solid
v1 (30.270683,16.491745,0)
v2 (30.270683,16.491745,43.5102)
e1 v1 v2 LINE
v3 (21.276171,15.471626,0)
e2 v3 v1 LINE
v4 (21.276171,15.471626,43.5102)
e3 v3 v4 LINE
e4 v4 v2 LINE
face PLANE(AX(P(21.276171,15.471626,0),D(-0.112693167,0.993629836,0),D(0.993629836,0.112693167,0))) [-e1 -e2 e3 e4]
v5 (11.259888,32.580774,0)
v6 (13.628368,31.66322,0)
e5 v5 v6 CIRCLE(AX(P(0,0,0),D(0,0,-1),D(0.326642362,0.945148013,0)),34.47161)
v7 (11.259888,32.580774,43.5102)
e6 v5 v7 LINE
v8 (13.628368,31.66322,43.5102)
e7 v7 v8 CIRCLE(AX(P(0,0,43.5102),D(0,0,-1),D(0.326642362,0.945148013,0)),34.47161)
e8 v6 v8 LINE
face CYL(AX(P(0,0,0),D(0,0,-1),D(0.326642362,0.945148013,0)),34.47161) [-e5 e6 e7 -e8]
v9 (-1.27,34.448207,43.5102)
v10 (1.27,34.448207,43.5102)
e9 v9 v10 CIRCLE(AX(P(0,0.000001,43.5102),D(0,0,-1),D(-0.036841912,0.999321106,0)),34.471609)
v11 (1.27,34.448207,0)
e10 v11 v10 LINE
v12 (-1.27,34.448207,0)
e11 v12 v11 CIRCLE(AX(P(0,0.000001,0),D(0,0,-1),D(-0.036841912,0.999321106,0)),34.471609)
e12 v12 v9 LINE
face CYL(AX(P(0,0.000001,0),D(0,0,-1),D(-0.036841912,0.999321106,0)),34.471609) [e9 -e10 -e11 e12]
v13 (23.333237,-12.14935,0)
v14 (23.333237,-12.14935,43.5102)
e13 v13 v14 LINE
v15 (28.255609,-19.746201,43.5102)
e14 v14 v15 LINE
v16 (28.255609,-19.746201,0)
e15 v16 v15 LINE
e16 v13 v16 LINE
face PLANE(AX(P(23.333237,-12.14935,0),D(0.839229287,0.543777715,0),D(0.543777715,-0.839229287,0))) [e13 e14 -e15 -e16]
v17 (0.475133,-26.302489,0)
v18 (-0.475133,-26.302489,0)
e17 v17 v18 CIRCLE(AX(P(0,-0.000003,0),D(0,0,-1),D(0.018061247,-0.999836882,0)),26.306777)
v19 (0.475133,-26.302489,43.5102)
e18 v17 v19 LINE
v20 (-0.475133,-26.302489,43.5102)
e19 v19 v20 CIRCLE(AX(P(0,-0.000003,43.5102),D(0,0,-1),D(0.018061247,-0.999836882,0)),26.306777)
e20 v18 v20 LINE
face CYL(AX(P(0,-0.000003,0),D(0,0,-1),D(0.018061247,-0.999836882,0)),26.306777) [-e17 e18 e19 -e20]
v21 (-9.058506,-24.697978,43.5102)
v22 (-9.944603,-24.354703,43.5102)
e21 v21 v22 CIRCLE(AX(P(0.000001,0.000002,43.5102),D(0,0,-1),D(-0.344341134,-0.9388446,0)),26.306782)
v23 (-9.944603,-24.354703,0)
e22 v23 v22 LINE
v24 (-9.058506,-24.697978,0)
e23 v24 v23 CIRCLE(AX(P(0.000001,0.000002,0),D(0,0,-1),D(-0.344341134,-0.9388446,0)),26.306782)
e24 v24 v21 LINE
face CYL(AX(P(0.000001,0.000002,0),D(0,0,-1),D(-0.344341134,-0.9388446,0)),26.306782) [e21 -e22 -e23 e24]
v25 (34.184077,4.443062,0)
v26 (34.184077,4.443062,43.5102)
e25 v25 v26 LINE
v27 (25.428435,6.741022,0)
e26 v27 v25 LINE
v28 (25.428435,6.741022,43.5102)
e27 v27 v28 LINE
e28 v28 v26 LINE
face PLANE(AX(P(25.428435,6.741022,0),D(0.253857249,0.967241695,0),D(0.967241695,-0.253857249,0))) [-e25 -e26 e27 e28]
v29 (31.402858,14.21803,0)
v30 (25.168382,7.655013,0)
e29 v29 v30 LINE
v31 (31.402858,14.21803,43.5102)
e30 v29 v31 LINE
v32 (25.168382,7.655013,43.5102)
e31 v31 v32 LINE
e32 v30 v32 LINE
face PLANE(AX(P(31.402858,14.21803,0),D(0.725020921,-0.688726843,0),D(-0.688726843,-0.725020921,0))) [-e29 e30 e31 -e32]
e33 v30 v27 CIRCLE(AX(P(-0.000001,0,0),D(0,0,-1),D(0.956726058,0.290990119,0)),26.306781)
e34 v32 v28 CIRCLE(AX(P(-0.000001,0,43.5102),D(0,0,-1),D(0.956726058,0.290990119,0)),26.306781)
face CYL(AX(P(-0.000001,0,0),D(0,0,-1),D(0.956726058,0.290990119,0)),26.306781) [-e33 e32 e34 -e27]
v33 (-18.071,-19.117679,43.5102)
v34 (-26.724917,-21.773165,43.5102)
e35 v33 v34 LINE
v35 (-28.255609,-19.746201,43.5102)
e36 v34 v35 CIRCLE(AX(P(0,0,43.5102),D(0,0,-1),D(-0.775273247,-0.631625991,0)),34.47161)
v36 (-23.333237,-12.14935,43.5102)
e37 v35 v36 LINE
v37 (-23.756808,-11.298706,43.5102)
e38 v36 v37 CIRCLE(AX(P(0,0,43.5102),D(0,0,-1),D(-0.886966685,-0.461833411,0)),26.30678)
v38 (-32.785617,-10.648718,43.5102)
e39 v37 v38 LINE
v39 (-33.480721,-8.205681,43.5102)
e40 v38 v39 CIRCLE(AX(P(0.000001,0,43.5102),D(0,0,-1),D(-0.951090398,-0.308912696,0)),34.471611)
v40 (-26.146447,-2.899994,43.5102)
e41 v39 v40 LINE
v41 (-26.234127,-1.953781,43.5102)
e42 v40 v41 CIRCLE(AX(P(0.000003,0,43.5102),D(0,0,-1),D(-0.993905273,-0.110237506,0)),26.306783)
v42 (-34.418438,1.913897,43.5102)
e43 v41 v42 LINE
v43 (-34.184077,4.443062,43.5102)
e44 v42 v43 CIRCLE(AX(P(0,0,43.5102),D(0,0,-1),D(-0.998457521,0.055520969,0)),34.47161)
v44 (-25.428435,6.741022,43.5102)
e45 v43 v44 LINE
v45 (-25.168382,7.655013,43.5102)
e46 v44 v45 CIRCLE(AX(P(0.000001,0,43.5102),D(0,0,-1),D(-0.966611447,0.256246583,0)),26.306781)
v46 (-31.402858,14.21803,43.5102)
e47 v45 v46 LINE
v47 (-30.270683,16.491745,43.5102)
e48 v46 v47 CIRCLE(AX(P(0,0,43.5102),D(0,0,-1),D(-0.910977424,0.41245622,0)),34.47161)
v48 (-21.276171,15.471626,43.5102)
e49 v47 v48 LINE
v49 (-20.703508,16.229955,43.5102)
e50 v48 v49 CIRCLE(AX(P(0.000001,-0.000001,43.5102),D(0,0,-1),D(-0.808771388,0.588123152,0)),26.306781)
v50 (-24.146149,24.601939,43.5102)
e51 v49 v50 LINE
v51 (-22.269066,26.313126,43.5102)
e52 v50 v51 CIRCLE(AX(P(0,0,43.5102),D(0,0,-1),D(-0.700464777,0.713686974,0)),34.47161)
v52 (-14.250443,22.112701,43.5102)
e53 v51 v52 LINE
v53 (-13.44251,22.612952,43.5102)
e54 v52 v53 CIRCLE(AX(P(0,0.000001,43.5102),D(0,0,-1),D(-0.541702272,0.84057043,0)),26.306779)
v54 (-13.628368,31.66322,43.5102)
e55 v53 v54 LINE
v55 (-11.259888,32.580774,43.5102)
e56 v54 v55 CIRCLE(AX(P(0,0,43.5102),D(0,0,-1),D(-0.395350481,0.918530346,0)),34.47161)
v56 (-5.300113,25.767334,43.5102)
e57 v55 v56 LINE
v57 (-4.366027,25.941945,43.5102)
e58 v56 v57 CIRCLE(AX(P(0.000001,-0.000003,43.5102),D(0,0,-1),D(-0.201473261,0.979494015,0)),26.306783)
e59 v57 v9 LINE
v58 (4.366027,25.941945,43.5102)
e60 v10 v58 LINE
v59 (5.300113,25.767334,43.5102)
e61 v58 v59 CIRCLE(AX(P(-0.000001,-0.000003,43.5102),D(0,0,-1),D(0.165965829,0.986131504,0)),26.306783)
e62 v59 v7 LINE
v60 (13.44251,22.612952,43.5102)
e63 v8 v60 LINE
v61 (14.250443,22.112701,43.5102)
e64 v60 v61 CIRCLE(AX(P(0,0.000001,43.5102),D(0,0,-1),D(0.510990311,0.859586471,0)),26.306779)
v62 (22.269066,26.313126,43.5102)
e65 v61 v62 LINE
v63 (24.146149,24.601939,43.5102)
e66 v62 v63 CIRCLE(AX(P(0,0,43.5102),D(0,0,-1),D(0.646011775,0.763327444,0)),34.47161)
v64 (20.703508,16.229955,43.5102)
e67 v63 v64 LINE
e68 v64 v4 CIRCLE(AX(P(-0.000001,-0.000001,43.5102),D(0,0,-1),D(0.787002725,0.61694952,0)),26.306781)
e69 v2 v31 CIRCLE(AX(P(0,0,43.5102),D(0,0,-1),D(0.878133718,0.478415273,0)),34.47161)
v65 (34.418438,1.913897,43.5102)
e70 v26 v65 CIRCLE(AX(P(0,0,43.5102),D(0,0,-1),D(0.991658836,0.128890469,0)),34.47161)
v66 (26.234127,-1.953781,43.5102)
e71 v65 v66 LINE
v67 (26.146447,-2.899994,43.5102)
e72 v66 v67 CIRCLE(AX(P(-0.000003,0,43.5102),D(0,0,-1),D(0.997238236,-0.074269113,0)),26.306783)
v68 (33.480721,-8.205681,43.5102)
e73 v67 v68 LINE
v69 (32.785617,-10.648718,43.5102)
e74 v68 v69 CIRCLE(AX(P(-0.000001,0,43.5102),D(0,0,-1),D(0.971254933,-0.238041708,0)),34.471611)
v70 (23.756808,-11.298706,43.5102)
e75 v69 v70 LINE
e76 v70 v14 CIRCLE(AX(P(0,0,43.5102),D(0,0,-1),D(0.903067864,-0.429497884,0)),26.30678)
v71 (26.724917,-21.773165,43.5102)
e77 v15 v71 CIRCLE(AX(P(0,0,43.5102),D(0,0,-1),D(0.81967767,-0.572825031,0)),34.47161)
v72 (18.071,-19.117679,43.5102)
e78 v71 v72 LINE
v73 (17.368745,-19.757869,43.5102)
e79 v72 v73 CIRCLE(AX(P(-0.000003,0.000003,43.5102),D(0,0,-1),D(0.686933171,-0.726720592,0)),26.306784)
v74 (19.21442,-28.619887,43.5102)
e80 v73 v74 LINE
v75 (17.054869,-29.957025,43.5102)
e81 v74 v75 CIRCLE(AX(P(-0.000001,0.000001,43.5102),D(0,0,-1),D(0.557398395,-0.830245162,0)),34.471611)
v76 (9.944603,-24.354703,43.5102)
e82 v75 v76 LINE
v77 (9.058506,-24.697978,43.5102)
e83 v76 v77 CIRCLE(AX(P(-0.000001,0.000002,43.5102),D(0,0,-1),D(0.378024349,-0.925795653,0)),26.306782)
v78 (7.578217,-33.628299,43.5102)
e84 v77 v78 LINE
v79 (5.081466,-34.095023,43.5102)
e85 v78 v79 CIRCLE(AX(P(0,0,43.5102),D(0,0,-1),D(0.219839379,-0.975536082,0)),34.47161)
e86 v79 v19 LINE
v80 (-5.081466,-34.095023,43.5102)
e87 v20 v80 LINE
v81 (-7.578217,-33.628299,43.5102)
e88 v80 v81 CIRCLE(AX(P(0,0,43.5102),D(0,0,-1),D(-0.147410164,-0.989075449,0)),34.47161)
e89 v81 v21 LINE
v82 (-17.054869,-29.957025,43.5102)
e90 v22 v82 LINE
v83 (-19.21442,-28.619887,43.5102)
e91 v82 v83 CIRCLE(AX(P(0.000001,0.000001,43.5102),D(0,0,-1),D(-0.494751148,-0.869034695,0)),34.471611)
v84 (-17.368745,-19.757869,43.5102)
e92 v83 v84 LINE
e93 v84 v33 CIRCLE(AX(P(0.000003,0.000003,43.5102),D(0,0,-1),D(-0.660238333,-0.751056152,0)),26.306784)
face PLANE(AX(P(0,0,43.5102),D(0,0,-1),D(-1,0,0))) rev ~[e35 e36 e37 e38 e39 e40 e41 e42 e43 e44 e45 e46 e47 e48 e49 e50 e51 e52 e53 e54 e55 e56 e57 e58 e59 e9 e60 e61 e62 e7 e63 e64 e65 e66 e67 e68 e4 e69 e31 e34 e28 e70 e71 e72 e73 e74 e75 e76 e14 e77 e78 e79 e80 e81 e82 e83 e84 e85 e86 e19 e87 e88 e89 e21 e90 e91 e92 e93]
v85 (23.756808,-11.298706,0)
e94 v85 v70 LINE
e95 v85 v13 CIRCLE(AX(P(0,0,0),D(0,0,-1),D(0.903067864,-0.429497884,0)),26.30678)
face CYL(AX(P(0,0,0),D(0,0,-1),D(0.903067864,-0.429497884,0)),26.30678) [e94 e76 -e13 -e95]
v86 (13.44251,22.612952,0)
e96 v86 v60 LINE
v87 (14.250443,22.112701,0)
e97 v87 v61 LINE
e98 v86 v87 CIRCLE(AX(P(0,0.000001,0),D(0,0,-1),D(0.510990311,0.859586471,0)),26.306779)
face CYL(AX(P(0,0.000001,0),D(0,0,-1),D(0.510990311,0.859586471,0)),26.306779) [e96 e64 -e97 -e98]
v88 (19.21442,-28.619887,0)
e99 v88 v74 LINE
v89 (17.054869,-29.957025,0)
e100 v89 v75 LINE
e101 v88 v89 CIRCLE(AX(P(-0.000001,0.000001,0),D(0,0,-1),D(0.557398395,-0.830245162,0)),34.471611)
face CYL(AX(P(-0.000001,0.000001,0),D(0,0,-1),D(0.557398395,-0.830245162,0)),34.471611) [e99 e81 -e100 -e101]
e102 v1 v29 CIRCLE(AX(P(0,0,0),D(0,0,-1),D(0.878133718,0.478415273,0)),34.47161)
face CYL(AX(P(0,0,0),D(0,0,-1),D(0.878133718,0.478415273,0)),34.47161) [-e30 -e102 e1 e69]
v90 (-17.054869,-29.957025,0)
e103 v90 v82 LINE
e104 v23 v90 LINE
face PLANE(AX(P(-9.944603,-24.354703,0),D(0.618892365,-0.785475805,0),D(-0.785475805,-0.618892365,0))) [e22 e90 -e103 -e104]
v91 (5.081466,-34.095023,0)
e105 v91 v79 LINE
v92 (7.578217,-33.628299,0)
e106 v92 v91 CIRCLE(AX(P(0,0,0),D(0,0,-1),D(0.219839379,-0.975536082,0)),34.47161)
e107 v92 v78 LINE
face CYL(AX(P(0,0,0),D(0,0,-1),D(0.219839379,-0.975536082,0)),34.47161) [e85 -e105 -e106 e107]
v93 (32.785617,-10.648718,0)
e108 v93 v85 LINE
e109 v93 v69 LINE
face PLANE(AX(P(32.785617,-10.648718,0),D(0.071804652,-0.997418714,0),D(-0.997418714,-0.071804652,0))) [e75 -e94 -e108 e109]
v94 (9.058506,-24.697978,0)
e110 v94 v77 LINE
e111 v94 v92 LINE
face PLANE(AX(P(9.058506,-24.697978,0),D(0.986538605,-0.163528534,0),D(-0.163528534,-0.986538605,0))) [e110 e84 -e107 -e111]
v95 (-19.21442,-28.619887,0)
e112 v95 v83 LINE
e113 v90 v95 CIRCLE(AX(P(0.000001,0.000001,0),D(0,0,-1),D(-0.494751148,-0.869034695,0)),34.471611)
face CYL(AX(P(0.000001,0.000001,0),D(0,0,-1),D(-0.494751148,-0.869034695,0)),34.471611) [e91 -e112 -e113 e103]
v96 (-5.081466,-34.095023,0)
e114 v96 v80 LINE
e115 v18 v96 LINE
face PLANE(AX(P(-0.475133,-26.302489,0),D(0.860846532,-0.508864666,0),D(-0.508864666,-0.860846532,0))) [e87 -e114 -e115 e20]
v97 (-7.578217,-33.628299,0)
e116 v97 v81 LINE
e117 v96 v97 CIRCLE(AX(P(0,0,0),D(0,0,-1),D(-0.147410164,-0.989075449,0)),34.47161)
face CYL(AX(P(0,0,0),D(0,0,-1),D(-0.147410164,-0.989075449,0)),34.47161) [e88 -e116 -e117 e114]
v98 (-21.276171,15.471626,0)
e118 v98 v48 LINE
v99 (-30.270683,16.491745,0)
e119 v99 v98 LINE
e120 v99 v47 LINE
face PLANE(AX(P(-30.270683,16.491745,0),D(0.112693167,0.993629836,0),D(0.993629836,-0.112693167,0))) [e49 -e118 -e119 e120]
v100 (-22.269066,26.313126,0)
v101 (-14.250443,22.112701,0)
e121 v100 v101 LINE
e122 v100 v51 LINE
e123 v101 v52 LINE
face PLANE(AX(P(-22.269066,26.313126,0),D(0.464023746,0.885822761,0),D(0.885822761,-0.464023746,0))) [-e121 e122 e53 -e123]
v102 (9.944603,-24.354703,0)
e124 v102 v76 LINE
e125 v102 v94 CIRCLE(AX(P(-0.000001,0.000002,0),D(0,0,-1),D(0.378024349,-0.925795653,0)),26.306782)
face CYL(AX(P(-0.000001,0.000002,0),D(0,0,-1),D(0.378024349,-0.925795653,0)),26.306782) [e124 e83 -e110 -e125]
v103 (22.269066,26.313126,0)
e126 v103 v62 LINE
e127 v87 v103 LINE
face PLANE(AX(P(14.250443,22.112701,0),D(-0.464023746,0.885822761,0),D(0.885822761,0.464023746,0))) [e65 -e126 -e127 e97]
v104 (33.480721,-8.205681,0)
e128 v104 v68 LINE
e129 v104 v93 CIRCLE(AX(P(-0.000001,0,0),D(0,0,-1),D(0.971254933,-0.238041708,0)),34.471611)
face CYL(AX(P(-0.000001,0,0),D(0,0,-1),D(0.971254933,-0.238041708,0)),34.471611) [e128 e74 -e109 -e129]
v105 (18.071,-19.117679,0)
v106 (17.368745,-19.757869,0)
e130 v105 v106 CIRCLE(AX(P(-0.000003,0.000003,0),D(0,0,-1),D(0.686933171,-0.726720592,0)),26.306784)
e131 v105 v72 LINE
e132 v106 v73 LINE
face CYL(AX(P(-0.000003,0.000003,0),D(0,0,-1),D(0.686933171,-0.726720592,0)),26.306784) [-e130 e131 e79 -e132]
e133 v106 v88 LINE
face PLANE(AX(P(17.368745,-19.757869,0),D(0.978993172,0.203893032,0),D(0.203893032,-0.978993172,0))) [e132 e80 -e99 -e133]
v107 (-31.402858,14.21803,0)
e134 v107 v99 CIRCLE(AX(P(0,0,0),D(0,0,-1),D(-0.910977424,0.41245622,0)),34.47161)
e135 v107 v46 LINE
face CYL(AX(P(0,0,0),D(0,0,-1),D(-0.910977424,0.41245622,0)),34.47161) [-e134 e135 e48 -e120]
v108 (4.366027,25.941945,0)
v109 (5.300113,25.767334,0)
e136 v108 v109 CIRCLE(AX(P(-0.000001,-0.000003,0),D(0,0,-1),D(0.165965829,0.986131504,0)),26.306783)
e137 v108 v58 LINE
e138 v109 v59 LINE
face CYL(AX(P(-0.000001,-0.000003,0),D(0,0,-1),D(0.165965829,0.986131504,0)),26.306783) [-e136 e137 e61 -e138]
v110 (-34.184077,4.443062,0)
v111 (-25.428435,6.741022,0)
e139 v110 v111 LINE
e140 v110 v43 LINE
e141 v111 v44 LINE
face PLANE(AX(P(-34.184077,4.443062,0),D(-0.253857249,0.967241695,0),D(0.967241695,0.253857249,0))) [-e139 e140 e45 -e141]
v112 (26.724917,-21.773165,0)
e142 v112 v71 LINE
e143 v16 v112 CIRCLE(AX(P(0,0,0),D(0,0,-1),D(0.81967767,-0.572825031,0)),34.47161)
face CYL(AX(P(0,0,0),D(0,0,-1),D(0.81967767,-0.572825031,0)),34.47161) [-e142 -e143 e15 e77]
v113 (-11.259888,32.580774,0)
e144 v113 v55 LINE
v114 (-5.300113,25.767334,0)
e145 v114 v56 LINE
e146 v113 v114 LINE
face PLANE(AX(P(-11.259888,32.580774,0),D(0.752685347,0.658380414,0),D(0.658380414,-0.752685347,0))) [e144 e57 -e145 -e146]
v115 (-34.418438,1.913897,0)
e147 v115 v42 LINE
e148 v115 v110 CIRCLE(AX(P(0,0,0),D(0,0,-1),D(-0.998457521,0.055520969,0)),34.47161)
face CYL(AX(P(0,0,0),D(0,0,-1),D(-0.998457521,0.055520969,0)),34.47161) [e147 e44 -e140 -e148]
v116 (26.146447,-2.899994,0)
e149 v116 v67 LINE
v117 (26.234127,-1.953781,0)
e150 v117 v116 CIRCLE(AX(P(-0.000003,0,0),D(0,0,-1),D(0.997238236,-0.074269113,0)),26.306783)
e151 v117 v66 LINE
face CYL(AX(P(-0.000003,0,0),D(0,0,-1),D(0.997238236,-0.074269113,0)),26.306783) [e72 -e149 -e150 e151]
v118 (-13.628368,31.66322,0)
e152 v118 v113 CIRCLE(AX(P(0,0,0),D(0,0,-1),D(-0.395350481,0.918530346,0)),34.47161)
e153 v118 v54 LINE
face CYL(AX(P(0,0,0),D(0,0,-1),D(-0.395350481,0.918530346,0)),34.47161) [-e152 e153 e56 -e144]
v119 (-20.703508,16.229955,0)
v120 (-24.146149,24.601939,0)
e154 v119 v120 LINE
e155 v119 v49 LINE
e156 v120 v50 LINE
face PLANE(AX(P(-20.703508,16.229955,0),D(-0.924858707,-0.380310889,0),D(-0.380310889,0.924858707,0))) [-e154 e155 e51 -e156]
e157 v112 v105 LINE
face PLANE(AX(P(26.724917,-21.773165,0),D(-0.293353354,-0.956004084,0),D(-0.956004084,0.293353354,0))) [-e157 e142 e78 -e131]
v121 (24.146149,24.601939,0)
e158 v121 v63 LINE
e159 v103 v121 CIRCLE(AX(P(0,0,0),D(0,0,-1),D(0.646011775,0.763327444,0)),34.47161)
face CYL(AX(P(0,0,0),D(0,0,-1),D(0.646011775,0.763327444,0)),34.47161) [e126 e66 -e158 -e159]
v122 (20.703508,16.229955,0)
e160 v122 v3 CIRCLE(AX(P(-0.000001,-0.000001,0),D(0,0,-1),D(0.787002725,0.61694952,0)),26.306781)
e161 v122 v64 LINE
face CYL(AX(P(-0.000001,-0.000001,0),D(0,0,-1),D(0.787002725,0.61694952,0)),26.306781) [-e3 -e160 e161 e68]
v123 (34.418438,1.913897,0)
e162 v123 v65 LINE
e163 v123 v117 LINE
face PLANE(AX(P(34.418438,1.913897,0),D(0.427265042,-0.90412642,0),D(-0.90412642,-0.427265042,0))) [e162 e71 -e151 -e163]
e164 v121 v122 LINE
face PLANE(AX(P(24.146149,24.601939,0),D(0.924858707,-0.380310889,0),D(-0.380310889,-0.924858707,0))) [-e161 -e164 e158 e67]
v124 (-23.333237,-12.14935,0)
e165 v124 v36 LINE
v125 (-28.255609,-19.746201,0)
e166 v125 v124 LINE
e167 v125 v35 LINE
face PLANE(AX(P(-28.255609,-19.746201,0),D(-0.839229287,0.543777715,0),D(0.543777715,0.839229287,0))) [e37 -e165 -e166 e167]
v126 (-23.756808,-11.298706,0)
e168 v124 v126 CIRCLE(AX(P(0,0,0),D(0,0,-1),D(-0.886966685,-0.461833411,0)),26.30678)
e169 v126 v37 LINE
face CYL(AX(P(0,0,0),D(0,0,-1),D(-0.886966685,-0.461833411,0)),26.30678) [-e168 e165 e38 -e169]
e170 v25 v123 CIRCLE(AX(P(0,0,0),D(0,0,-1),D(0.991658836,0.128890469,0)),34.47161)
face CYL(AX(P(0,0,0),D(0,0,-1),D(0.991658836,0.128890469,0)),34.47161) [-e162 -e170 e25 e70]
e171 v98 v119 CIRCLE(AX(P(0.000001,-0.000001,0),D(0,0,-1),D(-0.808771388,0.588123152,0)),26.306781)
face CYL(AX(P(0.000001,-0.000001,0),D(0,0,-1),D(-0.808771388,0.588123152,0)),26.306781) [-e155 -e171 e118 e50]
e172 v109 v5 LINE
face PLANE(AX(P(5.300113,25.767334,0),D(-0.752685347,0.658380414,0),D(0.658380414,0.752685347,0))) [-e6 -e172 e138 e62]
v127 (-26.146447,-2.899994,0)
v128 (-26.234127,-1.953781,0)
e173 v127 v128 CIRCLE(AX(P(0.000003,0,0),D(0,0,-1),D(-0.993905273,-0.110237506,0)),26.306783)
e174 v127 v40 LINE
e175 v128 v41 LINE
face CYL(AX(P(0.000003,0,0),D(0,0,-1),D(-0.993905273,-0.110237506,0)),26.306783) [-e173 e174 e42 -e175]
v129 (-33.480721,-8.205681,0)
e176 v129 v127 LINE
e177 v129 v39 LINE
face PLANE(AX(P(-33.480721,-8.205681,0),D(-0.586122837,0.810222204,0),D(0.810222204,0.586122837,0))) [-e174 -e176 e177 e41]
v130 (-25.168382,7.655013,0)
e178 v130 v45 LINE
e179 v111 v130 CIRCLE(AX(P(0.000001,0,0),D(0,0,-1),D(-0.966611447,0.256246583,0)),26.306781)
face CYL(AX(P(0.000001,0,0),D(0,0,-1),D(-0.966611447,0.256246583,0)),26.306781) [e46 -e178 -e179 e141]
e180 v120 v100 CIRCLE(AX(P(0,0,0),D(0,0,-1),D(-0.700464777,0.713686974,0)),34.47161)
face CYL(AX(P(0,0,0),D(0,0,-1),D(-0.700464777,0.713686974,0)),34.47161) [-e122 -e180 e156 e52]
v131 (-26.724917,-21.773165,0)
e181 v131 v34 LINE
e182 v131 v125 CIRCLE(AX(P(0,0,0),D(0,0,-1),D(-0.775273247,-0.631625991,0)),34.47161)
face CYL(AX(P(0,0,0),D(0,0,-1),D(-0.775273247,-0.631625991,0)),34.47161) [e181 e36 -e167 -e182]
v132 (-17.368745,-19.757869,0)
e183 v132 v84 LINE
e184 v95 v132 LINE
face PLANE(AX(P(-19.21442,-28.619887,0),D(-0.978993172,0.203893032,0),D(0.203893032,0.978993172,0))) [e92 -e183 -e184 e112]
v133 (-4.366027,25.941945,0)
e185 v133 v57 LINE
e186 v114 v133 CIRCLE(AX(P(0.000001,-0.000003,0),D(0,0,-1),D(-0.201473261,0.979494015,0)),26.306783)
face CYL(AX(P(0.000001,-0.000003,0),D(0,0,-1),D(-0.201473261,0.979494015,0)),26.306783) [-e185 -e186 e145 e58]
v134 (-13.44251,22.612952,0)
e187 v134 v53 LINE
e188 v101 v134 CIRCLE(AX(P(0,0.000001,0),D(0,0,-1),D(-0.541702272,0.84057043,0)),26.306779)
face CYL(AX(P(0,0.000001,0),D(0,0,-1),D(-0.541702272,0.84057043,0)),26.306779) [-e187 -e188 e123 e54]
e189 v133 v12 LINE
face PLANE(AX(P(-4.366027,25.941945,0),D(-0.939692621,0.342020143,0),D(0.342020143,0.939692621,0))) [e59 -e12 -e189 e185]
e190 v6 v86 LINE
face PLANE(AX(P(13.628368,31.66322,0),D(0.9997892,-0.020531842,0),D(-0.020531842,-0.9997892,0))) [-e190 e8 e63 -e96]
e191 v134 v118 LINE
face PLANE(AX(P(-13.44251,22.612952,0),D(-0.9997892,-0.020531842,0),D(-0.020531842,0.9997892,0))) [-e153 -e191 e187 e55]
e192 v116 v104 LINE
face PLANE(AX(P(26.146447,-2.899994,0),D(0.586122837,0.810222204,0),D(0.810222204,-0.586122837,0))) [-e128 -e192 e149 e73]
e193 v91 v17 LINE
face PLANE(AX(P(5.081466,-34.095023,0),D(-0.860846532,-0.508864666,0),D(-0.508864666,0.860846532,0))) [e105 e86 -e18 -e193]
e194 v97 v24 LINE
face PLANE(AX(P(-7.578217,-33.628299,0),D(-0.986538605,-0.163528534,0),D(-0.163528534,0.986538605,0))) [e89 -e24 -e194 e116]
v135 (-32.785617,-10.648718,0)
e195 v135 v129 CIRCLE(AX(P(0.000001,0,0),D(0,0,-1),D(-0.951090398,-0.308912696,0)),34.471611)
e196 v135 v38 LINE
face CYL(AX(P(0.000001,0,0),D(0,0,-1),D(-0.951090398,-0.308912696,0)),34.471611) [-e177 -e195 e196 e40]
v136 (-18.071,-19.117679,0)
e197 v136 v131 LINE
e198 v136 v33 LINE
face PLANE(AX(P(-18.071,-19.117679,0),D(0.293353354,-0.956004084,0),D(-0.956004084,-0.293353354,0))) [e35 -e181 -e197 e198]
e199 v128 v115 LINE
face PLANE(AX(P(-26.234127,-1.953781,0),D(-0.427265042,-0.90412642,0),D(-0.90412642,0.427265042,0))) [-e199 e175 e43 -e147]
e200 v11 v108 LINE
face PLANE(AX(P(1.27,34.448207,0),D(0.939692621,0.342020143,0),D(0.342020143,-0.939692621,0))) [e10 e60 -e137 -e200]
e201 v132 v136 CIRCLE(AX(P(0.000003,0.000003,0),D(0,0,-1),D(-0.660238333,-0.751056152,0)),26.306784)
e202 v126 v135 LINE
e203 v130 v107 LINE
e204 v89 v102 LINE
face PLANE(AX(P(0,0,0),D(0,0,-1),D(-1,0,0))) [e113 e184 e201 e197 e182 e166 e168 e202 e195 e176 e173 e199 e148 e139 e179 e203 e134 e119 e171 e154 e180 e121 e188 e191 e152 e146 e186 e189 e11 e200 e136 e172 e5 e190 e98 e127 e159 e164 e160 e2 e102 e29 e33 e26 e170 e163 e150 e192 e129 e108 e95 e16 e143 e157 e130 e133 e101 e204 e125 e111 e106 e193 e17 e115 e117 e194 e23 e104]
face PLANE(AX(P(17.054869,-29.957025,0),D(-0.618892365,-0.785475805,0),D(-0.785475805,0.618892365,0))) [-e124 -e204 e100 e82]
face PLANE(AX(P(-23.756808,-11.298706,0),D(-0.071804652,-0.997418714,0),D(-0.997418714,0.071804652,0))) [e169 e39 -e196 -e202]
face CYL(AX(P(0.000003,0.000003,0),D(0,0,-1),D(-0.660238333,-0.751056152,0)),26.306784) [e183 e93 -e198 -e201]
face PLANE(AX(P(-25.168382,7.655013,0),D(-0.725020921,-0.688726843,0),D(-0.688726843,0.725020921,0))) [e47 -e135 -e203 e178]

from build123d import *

# Parameters (mm, degrees)
BOSS_EXTRUDE1_DEPTH = 43.5102


with BuildPart() as part:
    # Sketch2 → Boss-Extrude1 (new body)
    with BuildSketch(Plane.XY):
        with BuildLine():
            Line((-4.366026501, 25.941944541), (-1.27, 34.448207442))
            ThreePointArc((-1.27, 34.448207442), (0, 34.47161), (1.27, 34.448207442))
            Line((1.27, 34.448207442), (4.366026501, 25.941944541))
            ThreePointArc((4.366026501, 25.941944541), (4.83385814, 25.858857079), (5.300112805, 25.767333549))
            Line((5.300112805, 25.767333549), (11.259888122, 32.580773709))
            ThreePointArc((11.259888122, 32.580773709), (12.452581833, 32.143819028), (13.628367585, 31.663219877))
            Line((13.628367585, 31.663219877), (13.442509735, 22.612952173))
            ThreePointArc((13.442509735, 22.612952173), (13.848735094, 22.366475142), (14.250442508, 22.11270138))
            Line((14.250442508, 22.11270138), (22.26906596, 26.31312595))
            ThreePointArc((22.26906596, 26.31312595), (23.223373486, 25.474827181), (24.14614861, 24.601939015))
            Line((24.14614861, 24.601939015), (20.703507542, 16.229955312))
            ThreePointArc((20.703507542, 16.229955312), (20.993263634, 15.8533768), (21.276170986, 15.471626358))
            Line((21.276170986, 15.471626358), (30.270683044, 16.491744725))
            ThreePointArc((30.270683044, 16.491744725), (30.857719866, 15.365318762), (31.402858467, 14.218029965))
            Line((31.402858467, 14.218029965), (25.168381933, 7.655013053))
            ThreePointArc((25.168381933, 7.655013053), (25.302535593, 7.199192074), (25.428434676, 6.741022466))
            Line((25.428434676, 6.741022466), (34.184076646, 4.443061991))
            ThreePointArc((34.184076646, 4.443061991), (34.324560189, 3.180638903), (34.418438279, 1.913897183))
            Line((34.418438279, 1.913897183), (26.234126882, -1.953781138))
            ThreePointArc((26.234126882, -1.953781138), (26.194559914, -2.427283433), (26.14644736, -2.899993864))
            Line((26.14644736, -2.899993864), (33.480721277, -8.205680884))
            ThreePointArc((33.480721277, -8.205680884), (33.155678459, -9.433603865), (32.785617282, -10.648718018))
            Line((32.785617282, -10.648718018), (23.756807626, -11.298706359))
            ThreePointArc((23.756807626, -11.298706359), (23.54886377, -11.725940863), (23.333237446, -12.149349953))
            Line((23.333237446, -12.149349953), (28.255608976, -19.746201087))
            ThreePointArc((28.255608976, -19.746201087), (27.508938632, -20.773786158), (26.724917, -21.773164845))
            Line((26.724917, -21.773164845), (18.07099986, -19.117678678))
            ThreePointArc((18.07099986, -19.117678678), (17.722763084, -19.440945003), (17.36874452, -19.757869009))
            Line((17.36874452, -19.757869009), (19.214420114, -28.619887416))
            ThreePointArc((19.214420114, -28.619887416), (18.14696421, -29.308353518), (17.054868589, -29.95702511))
            Line((17.054868589, -29.95702511), (9.944603428, -24.354702557))
            ThreePointArc((9.944603428, -24.354702557), (9.503105039, -24.530341795), (9.058506404, -24.697978373))
            Line((9.058506404, -24.697978373), (7.578217344, -33.628299361))
            ThreePointArc((7.578217344, -33.628299361), (6.334141716, -33.884665333), (5.081465671, -34.095023136))
            Line((5.081465671, -34.095023136), (0.475133198, -26.302488901))
            ThreePointArc((0.475133198, -26.302488901), (0, -26.30678), (-0.475133198, -26.302488901))
            Line((-0.475133198, -26.302488901), (-5.081465671, -34.095023136))
            ThreePointArc((-5.081465671, -34.095023136), (-6.334141716, -33.884665333), (-7.578217344, -33.628299361))
            Line((-7.578217344, -33.628299361), (-9.058506404, -24.697978373))
            ThreePointArc((-9.058506404, -24.697978373), (-9.503105039, -24.530341795), (-9.944603428, -24.354702557))
            Line((-9.944603428, -24.354702557), (-17.054868589, -29.95702511))
            ThreePointArc((-17.054868589, -29.95702511), (-18.14696421, -29.308353518), (-19.214420114, -28.619887416))
            Line((-19.214420114, -28.619887416), (-17.36874452, -19.757869009))
            ThreePointArc((-17.36874452, -19.757869009), (-17.722763084, -19.440945003), (-18.07099986, -19.117678678))
            Line((-18.07099986, -19.117678678), (-26.724917, -21.773164845))
            ThreePointArc((-26.724917, -21.773164845), (-27.508938632, -20.773786158), (-28.255608976, -19.746201087))
            Line((-28.255608976, -19.746201087), (-23.333237446, -12.149349953))
            ThreePointArc((-23.333237446, -12.149349953), (-23.54886377, -11.725940863), (-23.756807626, -11.298706359))
            Line((-23.756807626, -11.298706359), (-32.785617282, -10.648718018))
            ThreePointArc((-32.785617282, -10.648718018), (-33.155678459, -9.433603865), (-33.480721277, -8.205680884))
            Line((-33.480721277, -8.205680884), (-26.14644736, -2.899993864))
            ThreePointArc((-26.14644736, -2.899993864), (-26.194559914, -2.427283433), (-26.234126882, -1.953781138))
            Line((-26.234126882, -1.953781138), (-34.418438279, 1.913897183))
            ThreePointArc((-34.418438279, 1.913897183), (-34.324560189, 3.180638903), (-34.184076646, 4.443061991))
            Line((-34.184076646, 4.443061991), (-25.428434676, 6.741022466))
            ThreePointArc((-25.428434676, 6.741022466), (-25.302535593, 7.199192074), (-25.168381933, 7.655013053))
            Line((-25.168381933, 7.655013053), (-31.402858467, 14.218029965))
            ThreePointArc((-31.402858467, 14.218029965), (-30.857719866, 15.365318762), (-30.270683044, 16.491744725))
            Line((-30.270683044, 16.491744725), (-21.276170986, 15.471626358))
            ThreePointArc((-21.276170986, 15.471626358), (-20.993263634, 15.8533768), (-20.703507542, 16.229955312))
            Line((-20.703507542, 16.229955312), (-24.14614861, 24.601939015))
            ThreePointArc((-24.14614861, 24.601939015), (-23.223373486, 25.474827181), (-22.26906596, 26.31312595))
            Line((-22.26906596, 26.31312595), (-14.250442508, 22.11270138))
            ThreePointArc((-14.250442508, 22.11270138), (-13.848735094, 22.366475142), (-13.442509735, 22.612952173))
            Line((-13.442509735, 22.612952173), (-13.628367585, 31.663219877))
            ThreePointArc((-13.628367585, 31.663219877), (-12.452581833, 32.143819028), (-11.259888122, 32.580773709))
            Line((-11.259888122, 32.580773709), (-5.300112805, 25.767333549))
            ThreePointArc((-5.300112805, 25.767333549), (-4.83385814, 25.858857079), (-4.366026501, 25.941944541))
        make_face()
    extrude(amount=BOSS_EXTRUDE1_DEPTH)


solid = part.part
